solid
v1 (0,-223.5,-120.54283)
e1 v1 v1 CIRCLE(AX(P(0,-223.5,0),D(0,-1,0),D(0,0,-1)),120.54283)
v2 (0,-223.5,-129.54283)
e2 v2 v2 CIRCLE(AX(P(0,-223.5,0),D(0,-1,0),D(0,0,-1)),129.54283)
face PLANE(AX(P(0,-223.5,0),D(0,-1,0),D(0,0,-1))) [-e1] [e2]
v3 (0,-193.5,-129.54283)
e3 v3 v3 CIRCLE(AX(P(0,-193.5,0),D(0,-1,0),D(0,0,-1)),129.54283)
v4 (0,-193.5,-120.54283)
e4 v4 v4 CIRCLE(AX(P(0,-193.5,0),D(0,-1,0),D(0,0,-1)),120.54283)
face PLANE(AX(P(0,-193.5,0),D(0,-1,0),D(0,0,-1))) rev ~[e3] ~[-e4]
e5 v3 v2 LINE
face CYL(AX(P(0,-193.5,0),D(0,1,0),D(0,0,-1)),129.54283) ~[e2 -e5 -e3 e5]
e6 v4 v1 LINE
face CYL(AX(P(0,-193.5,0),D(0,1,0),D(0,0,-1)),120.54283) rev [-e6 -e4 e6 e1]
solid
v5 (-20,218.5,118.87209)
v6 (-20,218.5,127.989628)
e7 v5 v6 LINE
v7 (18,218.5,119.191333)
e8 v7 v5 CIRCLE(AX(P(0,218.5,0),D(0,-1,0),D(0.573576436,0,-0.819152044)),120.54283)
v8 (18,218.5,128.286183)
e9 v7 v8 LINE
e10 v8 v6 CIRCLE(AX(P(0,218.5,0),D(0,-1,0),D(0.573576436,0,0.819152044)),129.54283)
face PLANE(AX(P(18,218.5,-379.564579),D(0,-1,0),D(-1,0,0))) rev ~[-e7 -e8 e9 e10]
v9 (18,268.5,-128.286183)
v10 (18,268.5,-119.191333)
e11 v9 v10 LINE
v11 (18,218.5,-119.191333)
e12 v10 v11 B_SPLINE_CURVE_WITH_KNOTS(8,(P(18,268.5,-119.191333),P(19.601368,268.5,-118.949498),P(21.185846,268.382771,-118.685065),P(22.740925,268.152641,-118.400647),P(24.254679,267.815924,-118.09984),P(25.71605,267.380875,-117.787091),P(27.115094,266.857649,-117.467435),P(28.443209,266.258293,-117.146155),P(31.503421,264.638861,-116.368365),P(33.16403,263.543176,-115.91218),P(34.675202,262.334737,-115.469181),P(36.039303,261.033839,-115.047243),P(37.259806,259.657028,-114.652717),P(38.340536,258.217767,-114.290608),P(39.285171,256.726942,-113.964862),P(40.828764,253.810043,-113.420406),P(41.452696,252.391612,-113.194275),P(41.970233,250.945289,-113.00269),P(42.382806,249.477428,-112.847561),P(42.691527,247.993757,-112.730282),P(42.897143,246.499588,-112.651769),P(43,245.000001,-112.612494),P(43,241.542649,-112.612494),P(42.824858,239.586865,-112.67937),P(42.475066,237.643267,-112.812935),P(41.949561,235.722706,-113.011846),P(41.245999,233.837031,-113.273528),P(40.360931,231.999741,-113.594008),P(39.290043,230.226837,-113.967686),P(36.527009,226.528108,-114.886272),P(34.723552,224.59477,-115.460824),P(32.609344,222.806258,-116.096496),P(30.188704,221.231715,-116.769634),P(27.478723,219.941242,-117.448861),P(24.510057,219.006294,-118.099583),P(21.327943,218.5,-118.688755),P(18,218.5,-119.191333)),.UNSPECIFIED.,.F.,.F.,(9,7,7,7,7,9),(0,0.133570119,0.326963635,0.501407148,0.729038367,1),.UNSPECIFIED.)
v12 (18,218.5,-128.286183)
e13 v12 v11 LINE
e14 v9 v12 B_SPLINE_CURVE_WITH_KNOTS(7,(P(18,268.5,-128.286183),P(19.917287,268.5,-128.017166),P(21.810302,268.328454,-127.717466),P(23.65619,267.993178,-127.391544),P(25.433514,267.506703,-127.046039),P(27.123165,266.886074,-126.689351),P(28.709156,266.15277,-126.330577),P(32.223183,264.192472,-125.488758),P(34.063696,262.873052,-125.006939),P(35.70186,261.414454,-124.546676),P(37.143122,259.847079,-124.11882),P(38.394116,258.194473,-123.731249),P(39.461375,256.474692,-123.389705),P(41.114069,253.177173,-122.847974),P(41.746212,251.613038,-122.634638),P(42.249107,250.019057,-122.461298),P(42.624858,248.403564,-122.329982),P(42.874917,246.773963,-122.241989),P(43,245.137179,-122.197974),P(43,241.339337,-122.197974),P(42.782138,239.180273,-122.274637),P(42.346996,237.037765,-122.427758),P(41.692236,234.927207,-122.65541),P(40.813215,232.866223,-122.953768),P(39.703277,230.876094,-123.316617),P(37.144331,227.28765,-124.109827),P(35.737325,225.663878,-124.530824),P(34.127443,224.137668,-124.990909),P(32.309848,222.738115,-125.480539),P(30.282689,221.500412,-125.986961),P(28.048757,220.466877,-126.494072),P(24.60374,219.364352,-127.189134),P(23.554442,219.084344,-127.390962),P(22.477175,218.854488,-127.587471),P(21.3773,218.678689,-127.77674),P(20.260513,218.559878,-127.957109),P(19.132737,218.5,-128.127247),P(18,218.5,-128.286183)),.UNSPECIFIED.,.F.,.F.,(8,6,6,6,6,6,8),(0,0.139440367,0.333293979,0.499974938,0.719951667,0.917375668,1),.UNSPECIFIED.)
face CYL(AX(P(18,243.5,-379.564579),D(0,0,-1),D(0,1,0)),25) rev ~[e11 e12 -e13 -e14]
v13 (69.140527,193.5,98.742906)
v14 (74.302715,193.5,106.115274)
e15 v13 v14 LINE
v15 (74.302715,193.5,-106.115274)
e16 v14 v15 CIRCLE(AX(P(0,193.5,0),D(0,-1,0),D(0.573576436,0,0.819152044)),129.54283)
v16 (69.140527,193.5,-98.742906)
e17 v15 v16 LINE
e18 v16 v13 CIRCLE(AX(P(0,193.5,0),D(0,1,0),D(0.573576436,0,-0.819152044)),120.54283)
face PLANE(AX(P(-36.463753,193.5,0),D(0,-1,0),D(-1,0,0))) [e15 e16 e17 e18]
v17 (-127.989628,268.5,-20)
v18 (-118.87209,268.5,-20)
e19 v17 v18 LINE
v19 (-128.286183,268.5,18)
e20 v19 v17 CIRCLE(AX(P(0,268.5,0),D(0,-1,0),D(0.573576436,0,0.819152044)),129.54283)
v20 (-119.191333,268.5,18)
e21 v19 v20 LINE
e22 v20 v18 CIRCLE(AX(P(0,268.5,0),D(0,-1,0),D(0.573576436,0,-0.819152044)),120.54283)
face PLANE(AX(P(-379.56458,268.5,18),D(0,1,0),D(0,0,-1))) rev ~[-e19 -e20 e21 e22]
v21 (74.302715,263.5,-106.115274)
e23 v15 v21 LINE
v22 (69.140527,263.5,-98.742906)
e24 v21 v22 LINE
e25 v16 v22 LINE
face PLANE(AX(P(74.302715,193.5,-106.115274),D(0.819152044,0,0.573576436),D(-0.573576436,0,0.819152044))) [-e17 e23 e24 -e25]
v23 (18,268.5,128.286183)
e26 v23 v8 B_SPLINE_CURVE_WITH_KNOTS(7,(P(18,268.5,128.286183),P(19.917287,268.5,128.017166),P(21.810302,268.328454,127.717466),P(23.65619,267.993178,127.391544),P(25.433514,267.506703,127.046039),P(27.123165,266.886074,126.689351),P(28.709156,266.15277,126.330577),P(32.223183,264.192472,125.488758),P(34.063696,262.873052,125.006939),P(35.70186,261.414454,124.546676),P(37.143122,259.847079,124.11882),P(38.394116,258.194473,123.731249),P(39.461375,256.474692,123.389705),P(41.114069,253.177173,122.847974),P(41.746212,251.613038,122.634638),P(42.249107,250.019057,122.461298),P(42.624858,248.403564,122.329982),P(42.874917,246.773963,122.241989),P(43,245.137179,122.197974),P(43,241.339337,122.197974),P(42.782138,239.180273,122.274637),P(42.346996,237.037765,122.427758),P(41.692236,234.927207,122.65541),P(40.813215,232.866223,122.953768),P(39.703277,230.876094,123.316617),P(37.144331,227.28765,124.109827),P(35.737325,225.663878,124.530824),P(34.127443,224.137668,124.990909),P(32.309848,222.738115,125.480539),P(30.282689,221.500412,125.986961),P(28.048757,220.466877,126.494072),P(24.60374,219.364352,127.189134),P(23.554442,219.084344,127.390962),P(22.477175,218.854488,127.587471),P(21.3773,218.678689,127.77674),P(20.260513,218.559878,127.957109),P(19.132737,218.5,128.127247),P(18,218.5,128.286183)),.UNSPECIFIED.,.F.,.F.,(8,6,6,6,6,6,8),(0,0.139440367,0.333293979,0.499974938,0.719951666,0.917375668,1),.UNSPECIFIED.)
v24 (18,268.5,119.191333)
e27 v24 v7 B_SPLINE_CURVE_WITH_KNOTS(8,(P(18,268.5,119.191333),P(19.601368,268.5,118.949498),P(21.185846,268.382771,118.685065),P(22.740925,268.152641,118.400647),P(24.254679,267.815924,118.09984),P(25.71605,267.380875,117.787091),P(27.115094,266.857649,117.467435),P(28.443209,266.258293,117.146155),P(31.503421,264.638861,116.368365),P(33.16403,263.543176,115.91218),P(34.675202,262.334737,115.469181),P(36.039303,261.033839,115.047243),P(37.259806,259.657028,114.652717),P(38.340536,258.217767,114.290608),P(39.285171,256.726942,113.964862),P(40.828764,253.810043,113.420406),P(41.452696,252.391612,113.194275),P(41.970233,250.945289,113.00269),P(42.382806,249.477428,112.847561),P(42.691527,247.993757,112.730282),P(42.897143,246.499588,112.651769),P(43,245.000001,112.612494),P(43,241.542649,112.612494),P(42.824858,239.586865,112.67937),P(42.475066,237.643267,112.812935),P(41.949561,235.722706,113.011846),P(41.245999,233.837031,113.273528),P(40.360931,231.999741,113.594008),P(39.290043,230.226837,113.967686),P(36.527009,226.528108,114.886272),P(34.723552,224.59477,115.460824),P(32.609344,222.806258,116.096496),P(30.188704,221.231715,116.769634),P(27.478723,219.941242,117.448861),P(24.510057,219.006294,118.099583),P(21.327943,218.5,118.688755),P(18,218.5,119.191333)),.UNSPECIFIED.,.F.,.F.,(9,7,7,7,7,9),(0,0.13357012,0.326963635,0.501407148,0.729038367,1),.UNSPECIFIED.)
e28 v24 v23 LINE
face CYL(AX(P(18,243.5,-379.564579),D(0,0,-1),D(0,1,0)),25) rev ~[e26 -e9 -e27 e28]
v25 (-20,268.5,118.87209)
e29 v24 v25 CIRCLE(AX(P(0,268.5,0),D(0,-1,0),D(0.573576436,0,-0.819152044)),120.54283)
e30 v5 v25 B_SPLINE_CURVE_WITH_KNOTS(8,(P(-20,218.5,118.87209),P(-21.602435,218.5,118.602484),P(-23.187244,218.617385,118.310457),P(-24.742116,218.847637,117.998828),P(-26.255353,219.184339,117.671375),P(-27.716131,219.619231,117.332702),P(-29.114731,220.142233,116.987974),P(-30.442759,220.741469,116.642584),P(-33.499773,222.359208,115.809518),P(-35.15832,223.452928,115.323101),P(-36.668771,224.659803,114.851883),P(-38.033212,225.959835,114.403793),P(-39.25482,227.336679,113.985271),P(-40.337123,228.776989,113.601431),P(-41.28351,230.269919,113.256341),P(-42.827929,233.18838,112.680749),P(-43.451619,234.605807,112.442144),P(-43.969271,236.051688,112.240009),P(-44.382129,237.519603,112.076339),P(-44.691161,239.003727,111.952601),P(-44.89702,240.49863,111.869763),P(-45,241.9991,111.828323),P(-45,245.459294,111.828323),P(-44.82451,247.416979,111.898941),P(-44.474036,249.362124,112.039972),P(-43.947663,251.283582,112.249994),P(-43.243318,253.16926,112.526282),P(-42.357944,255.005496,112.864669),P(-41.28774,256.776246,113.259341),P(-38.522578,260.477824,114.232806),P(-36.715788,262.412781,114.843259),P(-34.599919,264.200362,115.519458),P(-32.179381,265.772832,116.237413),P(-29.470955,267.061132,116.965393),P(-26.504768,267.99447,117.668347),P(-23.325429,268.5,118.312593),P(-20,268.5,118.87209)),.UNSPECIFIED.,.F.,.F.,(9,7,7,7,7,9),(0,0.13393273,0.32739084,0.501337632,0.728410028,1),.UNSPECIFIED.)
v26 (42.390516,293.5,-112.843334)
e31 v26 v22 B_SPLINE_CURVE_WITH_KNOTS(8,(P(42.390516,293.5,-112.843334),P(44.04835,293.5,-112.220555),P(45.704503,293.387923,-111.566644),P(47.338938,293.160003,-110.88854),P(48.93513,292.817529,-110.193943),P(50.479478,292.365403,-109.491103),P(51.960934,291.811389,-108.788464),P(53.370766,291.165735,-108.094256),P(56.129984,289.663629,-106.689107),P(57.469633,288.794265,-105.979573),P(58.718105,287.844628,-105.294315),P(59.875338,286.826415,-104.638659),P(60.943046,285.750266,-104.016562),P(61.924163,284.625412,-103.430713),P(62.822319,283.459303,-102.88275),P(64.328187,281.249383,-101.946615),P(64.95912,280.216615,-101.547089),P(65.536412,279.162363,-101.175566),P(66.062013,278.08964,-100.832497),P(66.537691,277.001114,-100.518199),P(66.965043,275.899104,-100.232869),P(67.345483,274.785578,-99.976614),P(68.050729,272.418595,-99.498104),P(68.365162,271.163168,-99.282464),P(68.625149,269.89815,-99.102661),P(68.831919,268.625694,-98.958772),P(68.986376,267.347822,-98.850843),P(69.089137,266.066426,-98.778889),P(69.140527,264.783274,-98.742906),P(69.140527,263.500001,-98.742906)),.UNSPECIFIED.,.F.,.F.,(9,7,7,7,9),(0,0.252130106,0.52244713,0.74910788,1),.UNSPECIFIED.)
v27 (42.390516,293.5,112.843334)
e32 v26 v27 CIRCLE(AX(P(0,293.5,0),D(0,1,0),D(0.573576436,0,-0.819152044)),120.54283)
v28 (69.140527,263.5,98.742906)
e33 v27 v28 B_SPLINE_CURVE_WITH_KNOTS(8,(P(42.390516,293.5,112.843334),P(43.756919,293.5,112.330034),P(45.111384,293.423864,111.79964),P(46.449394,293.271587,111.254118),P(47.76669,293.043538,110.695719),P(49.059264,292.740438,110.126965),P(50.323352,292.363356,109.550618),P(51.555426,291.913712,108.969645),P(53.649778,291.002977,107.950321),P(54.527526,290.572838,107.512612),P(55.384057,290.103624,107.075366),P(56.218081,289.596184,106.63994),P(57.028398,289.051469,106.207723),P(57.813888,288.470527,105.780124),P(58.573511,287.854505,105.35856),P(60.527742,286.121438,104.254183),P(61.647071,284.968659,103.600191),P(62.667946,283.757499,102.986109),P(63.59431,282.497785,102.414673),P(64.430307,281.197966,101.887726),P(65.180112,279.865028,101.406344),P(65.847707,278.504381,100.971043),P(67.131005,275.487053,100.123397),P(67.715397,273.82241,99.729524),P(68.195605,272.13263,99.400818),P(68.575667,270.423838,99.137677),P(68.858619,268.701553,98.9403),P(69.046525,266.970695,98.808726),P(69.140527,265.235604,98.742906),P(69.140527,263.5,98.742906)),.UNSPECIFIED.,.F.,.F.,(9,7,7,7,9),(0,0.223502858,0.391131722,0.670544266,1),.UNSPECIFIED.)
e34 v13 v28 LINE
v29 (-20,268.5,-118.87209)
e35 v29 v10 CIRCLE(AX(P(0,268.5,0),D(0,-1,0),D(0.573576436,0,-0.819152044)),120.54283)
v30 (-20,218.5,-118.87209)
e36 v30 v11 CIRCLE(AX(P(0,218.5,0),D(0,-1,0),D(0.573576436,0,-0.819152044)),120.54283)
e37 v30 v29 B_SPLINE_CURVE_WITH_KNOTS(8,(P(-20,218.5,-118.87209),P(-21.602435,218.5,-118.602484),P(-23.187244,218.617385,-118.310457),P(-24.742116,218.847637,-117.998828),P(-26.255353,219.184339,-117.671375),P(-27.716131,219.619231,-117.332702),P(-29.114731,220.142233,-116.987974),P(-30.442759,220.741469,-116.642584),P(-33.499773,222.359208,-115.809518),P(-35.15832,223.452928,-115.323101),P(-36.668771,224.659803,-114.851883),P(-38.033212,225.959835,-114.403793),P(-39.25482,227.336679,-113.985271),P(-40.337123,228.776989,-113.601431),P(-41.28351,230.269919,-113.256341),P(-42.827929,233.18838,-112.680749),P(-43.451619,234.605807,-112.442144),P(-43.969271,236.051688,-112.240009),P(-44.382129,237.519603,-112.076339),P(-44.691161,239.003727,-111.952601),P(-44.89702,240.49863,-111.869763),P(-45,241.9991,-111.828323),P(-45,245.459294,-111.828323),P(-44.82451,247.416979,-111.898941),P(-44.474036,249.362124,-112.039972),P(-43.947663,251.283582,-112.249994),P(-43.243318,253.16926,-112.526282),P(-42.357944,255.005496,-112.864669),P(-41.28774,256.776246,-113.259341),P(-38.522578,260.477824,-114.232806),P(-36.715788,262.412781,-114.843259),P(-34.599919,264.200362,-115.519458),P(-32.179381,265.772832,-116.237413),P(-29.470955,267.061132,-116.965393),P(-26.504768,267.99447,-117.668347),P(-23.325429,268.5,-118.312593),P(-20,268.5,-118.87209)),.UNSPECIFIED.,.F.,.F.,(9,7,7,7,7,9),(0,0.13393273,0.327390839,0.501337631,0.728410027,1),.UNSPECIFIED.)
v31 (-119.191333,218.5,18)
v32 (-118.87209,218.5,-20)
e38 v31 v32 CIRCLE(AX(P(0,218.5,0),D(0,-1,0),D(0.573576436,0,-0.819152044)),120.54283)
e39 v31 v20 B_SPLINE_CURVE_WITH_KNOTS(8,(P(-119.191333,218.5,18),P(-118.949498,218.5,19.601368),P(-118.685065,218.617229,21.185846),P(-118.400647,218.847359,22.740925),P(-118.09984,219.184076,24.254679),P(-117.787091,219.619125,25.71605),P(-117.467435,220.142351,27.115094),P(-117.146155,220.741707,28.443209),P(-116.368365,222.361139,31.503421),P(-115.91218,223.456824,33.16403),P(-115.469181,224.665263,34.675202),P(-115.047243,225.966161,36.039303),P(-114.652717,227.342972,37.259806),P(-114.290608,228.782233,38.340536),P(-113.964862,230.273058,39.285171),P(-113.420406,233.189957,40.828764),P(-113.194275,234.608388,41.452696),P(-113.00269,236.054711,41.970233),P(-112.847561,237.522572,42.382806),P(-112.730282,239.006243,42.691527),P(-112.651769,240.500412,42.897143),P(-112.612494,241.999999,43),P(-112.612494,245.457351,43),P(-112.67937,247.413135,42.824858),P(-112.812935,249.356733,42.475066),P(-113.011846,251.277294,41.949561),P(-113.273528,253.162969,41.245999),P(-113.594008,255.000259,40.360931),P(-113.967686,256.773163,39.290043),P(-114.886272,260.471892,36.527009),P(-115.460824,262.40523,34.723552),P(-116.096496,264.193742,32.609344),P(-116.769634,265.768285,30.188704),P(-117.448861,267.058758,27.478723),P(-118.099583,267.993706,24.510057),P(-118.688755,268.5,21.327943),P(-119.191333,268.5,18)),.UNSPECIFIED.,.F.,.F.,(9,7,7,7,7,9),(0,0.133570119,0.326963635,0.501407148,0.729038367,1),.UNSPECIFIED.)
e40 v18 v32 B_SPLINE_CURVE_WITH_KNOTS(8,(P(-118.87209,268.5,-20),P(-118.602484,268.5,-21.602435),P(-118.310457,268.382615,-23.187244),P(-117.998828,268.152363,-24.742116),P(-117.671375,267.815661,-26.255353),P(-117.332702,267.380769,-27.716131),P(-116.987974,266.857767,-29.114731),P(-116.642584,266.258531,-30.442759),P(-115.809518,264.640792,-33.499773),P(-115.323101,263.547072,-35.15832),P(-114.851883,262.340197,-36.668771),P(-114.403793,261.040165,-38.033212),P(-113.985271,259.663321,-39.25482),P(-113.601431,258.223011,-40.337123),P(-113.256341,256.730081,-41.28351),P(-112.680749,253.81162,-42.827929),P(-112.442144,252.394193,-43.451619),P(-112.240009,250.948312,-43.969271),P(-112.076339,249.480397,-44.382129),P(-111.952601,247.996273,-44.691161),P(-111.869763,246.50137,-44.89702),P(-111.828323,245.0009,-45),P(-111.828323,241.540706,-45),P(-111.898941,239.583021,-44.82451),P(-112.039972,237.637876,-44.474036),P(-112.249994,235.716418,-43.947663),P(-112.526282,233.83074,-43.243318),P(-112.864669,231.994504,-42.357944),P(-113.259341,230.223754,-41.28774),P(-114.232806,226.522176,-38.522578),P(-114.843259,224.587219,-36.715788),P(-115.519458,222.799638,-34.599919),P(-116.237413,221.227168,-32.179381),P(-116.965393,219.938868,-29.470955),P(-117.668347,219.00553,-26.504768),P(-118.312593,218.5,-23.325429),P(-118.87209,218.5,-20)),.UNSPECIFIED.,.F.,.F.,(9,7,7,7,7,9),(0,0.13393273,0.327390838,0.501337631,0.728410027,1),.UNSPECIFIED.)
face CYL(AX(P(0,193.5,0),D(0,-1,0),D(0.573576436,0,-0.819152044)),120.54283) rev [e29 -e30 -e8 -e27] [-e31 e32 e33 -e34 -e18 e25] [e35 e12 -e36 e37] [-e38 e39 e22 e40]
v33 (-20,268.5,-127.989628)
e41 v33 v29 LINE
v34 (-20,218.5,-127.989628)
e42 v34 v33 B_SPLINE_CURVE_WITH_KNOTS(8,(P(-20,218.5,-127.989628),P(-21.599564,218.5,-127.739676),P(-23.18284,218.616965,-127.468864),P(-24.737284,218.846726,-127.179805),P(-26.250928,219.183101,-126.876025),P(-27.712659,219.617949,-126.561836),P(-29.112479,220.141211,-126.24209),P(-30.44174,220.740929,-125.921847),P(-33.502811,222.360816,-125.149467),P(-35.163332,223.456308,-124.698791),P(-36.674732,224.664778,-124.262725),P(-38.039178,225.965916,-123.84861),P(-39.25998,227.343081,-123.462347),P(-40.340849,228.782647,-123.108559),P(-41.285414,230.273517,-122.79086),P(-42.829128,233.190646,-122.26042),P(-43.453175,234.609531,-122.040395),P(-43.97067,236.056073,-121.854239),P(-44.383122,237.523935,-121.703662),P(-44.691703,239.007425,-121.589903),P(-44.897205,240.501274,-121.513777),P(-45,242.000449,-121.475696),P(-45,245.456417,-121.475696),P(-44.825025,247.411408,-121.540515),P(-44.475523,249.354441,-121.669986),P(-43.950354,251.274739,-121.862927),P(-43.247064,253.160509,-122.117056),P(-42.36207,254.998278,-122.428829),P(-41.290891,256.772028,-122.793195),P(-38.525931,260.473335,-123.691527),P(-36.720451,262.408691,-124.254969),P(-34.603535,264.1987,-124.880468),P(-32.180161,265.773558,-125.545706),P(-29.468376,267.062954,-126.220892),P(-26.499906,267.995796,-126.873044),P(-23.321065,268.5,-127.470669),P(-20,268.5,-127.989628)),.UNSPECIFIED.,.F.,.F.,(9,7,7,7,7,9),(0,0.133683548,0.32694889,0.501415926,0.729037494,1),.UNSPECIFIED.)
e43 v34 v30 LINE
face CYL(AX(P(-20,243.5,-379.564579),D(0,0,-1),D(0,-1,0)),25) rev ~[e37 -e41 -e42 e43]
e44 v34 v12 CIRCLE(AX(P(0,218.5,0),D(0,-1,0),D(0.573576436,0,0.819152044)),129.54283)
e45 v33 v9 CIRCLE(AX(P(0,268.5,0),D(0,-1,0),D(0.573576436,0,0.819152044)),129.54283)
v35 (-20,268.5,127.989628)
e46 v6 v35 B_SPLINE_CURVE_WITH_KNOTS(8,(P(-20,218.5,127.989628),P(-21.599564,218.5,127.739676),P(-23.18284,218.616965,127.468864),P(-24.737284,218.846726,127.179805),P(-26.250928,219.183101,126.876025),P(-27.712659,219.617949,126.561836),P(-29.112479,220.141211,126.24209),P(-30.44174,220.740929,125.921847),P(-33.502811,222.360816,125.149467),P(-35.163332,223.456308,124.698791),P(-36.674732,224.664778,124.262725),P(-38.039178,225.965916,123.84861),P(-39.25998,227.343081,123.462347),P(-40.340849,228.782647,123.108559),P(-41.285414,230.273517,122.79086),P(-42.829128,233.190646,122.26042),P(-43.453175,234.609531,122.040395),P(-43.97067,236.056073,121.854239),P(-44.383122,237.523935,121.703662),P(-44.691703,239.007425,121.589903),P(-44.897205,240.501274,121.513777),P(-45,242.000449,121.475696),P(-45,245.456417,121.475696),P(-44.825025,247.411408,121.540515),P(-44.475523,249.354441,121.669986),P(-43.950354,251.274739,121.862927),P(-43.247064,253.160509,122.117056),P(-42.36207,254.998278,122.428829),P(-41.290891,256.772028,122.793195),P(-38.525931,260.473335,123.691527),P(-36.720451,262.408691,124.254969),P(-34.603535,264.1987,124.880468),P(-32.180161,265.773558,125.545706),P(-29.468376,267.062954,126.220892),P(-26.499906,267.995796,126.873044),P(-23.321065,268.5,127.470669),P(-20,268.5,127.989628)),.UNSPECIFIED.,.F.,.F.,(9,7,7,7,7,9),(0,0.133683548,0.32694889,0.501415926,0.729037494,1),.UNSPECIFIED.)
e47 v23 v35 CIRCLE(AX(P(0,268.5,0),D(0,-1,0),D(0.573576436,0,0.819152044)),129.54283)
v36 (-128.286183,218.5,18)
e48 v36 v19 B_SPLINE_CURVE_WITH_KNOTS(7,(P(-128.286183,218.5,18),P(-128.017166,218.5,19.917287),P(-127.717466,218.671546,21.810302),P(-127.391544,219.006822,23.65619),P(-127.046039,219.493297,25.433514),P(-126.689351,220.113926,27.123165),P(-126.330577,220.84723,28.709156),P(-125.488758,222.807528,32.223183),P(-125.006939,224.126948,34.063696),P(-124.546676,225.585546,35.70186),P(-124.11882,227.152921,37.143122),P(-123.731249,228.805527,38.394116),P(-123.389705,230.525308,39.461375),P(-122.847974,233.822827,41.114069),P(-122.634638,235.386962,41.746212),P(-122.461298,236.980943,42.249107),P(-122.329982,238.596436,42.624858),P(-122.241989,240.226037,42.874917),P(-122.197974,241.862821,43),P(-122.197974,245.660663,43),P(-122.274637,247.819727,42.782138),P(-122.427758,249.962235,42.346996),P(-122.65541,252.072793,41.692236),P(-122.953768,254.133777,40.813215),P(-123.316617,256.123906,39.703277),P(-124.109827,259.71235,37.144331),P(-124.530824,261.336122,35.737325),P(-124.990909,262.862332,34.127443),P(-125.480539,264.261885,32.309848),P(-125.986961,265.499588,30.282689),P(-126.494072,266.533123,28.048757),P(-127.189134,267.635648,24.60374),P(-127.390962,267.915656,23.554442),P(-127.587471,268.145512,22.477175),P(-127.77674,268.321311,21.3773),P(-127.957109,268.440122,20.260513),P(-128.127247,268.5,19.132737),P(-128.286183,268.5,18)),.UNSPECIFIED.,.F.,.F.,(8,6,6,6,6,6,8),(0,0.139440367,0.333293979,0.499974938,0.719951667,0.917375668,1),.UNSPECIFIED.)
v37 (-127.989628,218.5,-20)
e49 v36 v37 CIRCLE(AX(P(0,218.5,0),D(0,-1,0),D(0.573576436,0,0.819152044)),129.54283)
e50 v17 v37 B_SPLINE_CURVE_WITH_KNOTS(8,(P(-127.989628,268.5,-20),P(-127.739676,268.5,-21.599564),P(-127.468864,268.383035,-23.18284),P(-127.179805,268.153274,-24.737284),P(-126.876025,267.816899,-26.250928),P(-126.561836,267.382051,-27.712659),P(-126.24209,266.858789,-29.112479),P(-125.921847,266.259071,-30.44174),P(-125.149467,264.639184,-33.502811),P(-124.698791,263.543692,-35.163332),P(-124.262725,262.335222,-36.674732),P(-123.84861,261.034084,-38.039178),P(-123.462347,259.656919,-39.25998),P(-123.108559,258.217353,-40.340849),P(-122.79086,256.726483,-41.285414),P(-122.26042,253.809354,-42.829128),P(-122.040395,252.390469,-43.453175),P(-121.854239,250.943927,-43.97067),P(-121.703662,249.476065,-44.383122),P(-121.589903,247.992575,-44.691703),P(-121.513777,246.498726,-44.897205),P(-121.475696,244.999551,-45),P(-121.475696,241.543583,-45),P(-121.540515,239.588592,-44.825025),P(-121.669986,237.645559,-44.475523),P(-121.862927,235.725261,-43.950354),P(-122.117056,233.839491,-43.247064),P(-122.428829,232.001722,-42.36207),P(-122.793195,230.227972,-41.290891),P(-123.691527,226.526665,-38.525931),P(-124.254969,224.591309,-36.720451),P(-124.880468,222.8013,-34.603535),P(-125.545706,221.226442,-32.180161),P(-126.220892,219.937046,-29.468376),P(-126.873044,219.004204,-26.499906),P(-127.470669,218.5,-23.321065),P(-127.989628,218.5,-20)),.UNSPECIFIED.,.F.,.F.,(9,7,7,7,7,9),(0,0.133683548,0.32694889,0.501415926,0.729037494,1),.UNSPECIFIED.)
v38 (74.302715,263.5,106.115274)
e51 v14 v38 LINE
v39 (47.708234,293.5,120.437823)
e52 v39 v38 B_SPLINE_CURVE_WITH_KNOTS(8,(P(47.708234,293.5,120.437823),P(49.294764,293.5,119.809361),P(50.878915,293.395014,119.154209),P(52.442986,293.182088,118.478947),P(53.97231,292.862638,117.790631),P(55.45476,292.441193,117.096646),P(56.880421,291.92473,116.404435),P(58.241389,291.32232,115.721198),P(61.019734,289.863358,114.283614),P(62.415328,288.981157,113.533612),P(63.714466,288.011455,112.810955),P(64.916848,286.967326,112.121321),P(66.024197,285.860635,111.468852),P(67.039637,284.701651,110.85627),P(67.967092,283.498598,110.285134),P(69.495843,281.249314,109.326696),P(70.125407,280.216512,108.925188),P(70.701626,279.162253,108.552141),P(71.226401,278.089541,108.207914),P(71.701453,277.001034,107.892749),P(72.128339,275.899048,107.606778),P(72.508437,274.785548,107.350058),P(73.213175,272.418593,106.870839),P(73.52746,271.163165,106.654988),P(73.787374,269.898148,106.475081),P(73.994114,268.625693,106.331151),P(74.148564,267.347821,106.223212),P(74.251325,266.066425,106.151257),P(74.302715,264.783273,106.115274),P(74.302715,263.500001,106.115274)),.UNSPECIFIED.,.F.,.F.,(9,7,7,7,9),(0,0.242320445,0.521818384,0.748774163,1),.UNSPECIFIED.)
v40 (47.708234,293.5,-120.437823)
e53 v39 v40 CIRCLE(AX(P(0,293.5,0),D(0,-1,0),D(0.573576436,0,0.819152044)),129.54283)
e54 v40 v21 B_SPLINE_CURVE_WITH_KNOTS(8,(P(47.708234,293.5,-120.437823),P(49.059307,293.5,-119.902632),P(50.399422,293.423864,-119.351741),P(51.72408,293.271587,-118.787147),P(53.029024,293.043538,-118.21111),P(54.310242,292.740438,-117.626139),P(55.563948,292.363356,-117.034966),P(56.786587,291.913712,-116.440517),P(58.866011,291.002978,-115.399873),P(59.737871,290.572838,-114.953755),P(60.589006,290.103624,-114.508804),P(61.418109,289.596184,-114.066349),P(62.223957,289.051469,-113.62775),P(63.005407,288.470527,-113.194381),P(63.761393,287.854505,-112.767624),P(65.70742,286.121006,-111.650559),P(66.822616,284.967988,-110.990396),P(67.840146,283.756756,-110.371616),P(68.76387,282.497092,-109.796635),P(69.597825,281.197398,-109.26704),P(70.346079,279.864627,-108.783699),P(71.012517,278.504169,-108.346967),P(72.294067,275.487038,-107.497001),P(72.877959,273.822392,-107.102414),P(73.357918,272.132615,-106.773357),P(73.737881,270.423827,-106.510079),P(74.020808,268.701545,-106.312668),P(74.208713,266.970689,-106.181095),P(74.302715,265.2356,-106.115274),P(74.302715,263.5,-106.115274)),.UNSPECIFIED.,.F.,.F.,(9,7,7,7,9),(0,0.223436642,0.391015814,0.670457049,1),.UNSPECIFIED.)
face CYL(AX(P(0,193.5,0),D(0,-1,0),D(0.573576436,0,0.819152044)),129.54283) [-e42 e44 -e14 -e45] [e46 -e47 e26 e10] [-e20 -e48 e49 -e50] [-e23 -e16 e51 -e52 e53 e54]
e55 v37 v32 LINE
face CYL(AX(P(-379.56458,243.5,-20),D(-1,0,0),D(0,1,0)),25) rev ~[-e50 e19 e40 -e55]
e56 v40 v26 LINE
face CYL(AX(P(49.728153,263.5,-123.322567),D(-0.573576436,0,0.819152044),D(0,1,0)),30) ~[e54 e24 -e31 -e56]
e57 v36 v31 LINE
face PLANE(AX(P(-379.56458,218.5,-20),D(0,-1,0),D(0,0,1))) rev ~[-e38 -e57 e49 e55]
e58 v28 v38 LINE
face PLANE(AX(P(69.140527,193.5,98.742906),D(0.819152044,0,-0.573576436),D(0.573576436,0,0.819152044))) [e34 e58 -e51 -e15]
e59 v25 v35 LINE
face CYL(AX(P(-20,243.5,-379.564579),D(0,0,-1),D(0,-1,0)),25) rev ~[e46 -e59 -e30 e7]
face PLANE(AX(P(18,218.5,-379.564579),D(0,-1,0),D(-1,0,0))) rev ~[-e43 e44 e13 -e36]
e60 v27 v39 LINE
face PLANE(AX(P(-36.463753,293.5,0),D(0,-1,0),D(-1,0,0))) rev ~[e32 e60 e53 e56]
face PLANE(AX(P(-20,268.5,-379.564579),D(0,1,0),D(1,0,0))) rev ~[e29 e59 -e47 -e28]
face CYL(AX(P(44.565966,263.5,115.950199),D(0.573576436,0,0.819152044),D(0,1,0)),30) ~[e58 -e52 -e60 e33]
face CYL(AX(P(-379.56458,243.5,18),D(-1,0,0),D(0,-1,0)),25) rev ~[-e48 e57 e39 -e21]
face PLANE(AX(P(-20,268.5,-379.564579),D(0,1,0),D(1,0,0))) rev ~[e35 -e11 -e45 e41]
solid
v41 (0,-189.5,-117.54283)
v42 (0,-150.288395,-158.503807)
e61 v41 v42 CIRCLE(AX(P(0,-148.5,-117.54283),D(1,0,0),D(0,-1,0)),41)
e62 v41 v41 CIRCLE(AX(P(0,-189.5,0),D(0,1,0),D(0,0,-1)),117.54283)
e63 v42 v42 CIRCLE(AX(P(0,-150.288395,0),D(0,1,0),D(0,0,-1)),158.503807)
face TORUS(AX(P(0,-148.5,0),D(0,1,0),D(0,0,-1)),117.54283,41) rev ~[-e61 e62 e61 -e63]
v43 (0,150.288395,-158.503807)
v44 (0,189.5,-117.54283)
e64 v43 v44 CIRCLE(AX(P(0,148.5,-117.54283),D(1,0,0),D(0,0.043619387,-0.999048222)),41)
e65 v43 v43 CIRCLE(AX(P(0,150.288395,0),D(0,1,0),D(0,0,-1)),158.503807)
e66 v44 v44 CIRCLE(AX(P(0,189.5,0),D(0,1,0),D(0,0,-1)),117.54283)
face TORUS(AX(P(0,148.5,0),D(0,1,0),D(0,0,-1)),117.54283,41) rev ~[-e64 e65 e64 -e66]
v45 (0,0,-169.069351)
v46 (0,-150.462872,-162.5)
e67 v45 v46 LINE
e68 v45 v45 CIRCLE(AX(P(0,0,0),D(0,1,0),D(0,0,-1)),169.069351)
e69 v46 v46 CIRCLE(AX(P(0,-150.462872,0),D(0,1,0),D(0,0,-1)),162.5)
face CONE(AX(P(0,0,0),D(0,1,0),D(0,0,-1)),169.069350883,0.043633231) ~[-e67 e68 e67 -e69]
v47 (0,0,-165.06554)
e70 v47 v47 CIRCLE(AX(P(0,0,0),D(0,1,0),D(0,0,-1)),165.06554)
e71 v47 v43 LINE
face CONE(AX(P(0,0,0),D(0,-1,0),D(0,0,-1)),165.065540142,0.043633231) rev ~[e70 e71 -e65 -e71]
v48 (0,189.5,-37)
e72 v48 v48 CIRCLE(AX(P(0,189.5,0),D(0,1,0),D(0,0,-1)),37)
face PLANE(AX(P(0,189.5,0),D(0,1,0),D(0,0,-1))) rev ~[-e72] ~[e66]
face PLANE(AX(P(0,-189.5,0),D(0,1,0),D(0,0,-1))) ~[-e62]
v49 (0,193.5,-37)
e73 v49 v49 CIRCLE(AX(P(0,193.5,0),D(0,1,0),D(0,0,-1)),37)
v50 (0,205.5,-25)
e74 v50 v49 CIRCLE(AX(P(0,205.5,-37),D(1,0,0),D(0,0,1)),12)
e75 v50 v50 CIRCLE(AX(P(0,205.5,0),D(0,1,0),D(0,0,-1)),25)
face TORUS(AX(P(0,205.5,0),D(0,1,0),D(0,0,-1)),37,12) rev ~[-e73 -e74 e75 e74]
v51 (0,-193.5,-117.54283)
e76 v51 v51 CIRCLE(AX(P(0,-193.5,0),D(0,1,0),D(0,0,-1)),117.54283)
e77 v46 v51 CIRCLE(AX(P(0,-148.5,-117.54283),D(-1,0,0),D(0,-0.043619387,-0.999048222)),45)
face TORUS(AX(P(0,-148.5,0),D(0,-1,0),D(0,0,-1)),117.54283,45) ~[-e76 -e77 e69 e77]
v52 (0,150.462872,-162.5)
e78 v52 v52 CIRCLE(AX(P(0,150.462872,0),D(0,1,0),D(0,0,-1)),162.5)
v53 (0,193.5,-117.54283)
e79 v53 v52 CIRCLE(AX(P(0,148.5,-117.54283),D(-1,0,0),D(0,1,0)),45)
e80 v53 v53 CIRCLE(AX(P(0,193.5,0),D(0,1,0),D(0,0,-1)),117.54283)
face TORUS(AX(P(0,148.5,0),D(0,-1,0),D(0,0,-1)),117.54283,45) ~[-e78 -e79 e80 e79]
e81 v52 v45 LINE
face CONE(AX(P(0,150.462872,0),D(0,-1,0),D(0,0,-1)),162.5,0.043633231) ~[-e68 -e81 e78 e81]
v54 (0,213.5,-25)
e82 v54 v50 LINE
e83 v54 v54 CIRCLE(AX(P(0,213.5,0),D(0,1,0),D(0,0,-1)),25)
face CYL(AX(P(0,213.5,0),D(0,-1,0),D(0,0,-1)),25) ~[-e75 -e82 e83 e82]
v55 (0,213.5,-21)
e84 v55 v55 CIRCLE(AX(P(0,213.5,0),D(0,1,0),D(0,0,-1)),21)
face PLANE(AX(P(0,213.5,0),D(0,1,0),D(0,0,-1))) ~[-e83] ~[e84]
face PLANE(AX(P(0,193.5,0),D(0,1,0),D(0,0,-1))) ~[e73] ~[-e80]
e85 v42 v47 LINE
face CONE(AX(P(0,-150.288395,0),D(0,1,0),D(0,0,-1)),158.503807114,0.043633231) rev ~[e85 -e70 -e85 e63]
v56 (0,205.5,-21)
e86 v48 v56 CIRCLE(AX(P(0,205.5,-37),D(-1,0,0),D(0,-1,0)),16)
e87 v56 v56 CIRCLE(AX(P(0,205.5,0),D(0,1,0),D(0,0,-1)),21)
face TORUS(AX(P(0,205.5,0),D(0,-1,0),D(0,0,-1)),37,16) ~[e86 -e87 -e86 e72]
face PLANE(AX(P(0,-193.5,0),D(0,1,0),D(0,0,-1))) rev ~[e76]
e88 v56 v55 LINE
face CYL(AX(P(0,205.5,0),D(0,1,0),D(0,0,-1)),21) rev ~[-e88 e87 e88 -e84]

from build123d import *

# Parameters (mm, degrees)
BOSS_EXTRUDE1_DEPTH     = 100
CUT_EXTRUDE1_DEPTH      = 379.564579453
CUT_EXTRUDE1_DEPTH_BACK = 379.564579453
FILLET1_R               = 30
FILLET2_R               = 30
CUT_EXTRUDE2_DEPTH      = 379.56457953
CUT_EXTRUDE2_DEPTH_BACK = 379.56457953
SKETCH6_R               = 129.542830029
SKETCH6_R_2             = 120.542830029
BOSS_EXTRUDE3_DEPTH     = 30


with BuildPart() as part:
    # Sketch1 → Revolve1 (revolve)
    with BuildSketch(Plane.XY, mode=Mode.PRIVATE) as revolve1_sk:
        with BuildLine():
            Line((25, 213.5), (25, 205.5))
            ThreePointArc((25, 205.5), (28.514718626, 197.014718626), (37, 193.5))
            Line((37, 193.5), (117.542830029, 193.5))
            ThreePointArc((117.542830029, 193.5), (148.660917539, 181.006378293), (162.5, 150.462872431))
            Line((162.5, 150.462872431), (169.069350883, 0))
            Line((169.069350883, 0), (162.5, -150.462872431))
            ThreePointArc((162.5, -150.462872431), (148.660917539, -181.006378293), (117.542830029, -193.5))
            Line((117.542830029, -193.5), (0, -193.5))
            Line((0, -193.5), (0, -189.5))
            Line((0, -189.5), (117.542830029, -189.5))
            ThreePointArc((117.542830029, -189.5), (145.894865316, -178.116922444), (158.503807114, -150.288394882))
            Line((158.503807114, -150.288394882), (165.065540142, 0))
            Line((165.065540142, 0), (158.503807114, 150.288394882))
            ThreePointArc((158.503807114, 150.288394882), (145.894865316, 178.116922444), (117.542830029, 189.5))
            Line((117.542830029, 189.5), (37, 189.5))
            ThreePointArc((37, 189.5), (25.686291501, 194.186291501), (21, 205.5))
            Line((21, 205.5), (21, 209.5))
            Line((21, 209.5), (21, 213.5))
            Line((21, 213.5), (25, 213.5))
        make_face()
    revolve(revolve1_sk.sketch.rotate(Axis((0, 0, 0), (0, 1, 0)), 90), axis=Axis((0, 0, 0), (0, 1, 0)))


with BuildPart() as body_2:
    # Sketch2 → Boss-Extrude1 (new body)
    with BuildSketch(Plane(origin=(0, 193.5, 0), x_dir=(1, 0, 0), z_dir=(0, 1, 0))):
        with BuildLine():
            Line((74.302714803, 106.115274041), (69.140526876, 98.742905642))
            ThreePointArc((69.140526876, 98.742905642), (-120.542830029, 0), (69.140526876, -98.742905642))
            Line((69.140526876, -98.742905642), (74.302714803, -106.115274041))
            ThreePointArc((74.302714803, -106.115274041), (-129.542830029, 0), (74.302714803, 106.115274041))
        make_face()
    extrude(amount=BOSS_EXTRUDE1_DEPTH)

    # Sketch3 → Cut-Extrude1 (cut, two sides: drawn at the far end of the back side and taken through both)
    with BuildSketch(Plane.XY.offset(-CUT_EXTRUDE1_DEPTH_BACK)):
        with BuildLine():
            Line((-20, 268.5), (18, 268.5))
            ThreePointArc((18, 268.5), (43, 243.5), (18, 218.5))
            Line((18, 218.5), (-20, 218.5))
            ThreePointArc((-20, 218.5), (-45, 243.5), (-20, 268.5))
        make_face()
    extrude(amount=CUT_EXTRUDE1_DEPTH + CUT_EXTRUDE1_DEPTH_BACK, mode=Mode.SUBTRACT)

    # Fillet1
    fillet1_edges = [body_2.edges().sort_by_distance(p)[0] for p in [
        (71.721620839, 293.5, 102.429089842),
    ]]
    fillet(fillet1_edges, radius=FILLET1_R)

    # Fillet2
    fillet2_edges = [body_2.edges().sort_by_distance(p)[0] for p in [
        (71.721620839, 293.5, -102.429089842),
    ]]
    fillet(fillet2_edges, radius=FILLET2_R)

    # Sketch4 → Cut-Extrude2 (cut, two sides: drawn at the far end of the back side and taken through both)
    with BuildSketch(Plane(origin=(0, 0, 0), x_dir=(0, 0, -1), z_dir=(1, 0, 0)).offset(-CUT_EXTRUDE2_DEPTH_BACK)):
        with BuildLine():
            Line((20, 218.5), (-18, 218.5))
            ThreePointArc((-18, 218.5), (-43, 243.5), (-18, 268.5))
            Line((-18, 268.5), (20, 268.5))
            ThreePointArc((20, 268.5), (45, 243.5), (20, 218.5))
        make_face()
    extrude(amount=CUT_EXTRUDE2_DEPTH + CUT_EXTRUDE2_DEPTH_BACK, mode=Mode.SUBTRACT)


with BuildPart() as body_3:
    # Sketch6 → Boss-Extrude3 (new body)
    with BuildSketch(Plane.XZ.offset(193.5)):
        with Locations(Location((0, 0, 0), (0, 0, 270))):
            Circle(SKETCH6_R)
        with Locations(Location((0, 0, 0), (0, 0, 270))):
            Circle(SKETCH6_R_2, mode=Mode.SUBTRACT)
    extrude(amount=BOSS_EXTRUDE3_DEPTH)


solid = Compound([part.part, body_2.part, body_3.part])
